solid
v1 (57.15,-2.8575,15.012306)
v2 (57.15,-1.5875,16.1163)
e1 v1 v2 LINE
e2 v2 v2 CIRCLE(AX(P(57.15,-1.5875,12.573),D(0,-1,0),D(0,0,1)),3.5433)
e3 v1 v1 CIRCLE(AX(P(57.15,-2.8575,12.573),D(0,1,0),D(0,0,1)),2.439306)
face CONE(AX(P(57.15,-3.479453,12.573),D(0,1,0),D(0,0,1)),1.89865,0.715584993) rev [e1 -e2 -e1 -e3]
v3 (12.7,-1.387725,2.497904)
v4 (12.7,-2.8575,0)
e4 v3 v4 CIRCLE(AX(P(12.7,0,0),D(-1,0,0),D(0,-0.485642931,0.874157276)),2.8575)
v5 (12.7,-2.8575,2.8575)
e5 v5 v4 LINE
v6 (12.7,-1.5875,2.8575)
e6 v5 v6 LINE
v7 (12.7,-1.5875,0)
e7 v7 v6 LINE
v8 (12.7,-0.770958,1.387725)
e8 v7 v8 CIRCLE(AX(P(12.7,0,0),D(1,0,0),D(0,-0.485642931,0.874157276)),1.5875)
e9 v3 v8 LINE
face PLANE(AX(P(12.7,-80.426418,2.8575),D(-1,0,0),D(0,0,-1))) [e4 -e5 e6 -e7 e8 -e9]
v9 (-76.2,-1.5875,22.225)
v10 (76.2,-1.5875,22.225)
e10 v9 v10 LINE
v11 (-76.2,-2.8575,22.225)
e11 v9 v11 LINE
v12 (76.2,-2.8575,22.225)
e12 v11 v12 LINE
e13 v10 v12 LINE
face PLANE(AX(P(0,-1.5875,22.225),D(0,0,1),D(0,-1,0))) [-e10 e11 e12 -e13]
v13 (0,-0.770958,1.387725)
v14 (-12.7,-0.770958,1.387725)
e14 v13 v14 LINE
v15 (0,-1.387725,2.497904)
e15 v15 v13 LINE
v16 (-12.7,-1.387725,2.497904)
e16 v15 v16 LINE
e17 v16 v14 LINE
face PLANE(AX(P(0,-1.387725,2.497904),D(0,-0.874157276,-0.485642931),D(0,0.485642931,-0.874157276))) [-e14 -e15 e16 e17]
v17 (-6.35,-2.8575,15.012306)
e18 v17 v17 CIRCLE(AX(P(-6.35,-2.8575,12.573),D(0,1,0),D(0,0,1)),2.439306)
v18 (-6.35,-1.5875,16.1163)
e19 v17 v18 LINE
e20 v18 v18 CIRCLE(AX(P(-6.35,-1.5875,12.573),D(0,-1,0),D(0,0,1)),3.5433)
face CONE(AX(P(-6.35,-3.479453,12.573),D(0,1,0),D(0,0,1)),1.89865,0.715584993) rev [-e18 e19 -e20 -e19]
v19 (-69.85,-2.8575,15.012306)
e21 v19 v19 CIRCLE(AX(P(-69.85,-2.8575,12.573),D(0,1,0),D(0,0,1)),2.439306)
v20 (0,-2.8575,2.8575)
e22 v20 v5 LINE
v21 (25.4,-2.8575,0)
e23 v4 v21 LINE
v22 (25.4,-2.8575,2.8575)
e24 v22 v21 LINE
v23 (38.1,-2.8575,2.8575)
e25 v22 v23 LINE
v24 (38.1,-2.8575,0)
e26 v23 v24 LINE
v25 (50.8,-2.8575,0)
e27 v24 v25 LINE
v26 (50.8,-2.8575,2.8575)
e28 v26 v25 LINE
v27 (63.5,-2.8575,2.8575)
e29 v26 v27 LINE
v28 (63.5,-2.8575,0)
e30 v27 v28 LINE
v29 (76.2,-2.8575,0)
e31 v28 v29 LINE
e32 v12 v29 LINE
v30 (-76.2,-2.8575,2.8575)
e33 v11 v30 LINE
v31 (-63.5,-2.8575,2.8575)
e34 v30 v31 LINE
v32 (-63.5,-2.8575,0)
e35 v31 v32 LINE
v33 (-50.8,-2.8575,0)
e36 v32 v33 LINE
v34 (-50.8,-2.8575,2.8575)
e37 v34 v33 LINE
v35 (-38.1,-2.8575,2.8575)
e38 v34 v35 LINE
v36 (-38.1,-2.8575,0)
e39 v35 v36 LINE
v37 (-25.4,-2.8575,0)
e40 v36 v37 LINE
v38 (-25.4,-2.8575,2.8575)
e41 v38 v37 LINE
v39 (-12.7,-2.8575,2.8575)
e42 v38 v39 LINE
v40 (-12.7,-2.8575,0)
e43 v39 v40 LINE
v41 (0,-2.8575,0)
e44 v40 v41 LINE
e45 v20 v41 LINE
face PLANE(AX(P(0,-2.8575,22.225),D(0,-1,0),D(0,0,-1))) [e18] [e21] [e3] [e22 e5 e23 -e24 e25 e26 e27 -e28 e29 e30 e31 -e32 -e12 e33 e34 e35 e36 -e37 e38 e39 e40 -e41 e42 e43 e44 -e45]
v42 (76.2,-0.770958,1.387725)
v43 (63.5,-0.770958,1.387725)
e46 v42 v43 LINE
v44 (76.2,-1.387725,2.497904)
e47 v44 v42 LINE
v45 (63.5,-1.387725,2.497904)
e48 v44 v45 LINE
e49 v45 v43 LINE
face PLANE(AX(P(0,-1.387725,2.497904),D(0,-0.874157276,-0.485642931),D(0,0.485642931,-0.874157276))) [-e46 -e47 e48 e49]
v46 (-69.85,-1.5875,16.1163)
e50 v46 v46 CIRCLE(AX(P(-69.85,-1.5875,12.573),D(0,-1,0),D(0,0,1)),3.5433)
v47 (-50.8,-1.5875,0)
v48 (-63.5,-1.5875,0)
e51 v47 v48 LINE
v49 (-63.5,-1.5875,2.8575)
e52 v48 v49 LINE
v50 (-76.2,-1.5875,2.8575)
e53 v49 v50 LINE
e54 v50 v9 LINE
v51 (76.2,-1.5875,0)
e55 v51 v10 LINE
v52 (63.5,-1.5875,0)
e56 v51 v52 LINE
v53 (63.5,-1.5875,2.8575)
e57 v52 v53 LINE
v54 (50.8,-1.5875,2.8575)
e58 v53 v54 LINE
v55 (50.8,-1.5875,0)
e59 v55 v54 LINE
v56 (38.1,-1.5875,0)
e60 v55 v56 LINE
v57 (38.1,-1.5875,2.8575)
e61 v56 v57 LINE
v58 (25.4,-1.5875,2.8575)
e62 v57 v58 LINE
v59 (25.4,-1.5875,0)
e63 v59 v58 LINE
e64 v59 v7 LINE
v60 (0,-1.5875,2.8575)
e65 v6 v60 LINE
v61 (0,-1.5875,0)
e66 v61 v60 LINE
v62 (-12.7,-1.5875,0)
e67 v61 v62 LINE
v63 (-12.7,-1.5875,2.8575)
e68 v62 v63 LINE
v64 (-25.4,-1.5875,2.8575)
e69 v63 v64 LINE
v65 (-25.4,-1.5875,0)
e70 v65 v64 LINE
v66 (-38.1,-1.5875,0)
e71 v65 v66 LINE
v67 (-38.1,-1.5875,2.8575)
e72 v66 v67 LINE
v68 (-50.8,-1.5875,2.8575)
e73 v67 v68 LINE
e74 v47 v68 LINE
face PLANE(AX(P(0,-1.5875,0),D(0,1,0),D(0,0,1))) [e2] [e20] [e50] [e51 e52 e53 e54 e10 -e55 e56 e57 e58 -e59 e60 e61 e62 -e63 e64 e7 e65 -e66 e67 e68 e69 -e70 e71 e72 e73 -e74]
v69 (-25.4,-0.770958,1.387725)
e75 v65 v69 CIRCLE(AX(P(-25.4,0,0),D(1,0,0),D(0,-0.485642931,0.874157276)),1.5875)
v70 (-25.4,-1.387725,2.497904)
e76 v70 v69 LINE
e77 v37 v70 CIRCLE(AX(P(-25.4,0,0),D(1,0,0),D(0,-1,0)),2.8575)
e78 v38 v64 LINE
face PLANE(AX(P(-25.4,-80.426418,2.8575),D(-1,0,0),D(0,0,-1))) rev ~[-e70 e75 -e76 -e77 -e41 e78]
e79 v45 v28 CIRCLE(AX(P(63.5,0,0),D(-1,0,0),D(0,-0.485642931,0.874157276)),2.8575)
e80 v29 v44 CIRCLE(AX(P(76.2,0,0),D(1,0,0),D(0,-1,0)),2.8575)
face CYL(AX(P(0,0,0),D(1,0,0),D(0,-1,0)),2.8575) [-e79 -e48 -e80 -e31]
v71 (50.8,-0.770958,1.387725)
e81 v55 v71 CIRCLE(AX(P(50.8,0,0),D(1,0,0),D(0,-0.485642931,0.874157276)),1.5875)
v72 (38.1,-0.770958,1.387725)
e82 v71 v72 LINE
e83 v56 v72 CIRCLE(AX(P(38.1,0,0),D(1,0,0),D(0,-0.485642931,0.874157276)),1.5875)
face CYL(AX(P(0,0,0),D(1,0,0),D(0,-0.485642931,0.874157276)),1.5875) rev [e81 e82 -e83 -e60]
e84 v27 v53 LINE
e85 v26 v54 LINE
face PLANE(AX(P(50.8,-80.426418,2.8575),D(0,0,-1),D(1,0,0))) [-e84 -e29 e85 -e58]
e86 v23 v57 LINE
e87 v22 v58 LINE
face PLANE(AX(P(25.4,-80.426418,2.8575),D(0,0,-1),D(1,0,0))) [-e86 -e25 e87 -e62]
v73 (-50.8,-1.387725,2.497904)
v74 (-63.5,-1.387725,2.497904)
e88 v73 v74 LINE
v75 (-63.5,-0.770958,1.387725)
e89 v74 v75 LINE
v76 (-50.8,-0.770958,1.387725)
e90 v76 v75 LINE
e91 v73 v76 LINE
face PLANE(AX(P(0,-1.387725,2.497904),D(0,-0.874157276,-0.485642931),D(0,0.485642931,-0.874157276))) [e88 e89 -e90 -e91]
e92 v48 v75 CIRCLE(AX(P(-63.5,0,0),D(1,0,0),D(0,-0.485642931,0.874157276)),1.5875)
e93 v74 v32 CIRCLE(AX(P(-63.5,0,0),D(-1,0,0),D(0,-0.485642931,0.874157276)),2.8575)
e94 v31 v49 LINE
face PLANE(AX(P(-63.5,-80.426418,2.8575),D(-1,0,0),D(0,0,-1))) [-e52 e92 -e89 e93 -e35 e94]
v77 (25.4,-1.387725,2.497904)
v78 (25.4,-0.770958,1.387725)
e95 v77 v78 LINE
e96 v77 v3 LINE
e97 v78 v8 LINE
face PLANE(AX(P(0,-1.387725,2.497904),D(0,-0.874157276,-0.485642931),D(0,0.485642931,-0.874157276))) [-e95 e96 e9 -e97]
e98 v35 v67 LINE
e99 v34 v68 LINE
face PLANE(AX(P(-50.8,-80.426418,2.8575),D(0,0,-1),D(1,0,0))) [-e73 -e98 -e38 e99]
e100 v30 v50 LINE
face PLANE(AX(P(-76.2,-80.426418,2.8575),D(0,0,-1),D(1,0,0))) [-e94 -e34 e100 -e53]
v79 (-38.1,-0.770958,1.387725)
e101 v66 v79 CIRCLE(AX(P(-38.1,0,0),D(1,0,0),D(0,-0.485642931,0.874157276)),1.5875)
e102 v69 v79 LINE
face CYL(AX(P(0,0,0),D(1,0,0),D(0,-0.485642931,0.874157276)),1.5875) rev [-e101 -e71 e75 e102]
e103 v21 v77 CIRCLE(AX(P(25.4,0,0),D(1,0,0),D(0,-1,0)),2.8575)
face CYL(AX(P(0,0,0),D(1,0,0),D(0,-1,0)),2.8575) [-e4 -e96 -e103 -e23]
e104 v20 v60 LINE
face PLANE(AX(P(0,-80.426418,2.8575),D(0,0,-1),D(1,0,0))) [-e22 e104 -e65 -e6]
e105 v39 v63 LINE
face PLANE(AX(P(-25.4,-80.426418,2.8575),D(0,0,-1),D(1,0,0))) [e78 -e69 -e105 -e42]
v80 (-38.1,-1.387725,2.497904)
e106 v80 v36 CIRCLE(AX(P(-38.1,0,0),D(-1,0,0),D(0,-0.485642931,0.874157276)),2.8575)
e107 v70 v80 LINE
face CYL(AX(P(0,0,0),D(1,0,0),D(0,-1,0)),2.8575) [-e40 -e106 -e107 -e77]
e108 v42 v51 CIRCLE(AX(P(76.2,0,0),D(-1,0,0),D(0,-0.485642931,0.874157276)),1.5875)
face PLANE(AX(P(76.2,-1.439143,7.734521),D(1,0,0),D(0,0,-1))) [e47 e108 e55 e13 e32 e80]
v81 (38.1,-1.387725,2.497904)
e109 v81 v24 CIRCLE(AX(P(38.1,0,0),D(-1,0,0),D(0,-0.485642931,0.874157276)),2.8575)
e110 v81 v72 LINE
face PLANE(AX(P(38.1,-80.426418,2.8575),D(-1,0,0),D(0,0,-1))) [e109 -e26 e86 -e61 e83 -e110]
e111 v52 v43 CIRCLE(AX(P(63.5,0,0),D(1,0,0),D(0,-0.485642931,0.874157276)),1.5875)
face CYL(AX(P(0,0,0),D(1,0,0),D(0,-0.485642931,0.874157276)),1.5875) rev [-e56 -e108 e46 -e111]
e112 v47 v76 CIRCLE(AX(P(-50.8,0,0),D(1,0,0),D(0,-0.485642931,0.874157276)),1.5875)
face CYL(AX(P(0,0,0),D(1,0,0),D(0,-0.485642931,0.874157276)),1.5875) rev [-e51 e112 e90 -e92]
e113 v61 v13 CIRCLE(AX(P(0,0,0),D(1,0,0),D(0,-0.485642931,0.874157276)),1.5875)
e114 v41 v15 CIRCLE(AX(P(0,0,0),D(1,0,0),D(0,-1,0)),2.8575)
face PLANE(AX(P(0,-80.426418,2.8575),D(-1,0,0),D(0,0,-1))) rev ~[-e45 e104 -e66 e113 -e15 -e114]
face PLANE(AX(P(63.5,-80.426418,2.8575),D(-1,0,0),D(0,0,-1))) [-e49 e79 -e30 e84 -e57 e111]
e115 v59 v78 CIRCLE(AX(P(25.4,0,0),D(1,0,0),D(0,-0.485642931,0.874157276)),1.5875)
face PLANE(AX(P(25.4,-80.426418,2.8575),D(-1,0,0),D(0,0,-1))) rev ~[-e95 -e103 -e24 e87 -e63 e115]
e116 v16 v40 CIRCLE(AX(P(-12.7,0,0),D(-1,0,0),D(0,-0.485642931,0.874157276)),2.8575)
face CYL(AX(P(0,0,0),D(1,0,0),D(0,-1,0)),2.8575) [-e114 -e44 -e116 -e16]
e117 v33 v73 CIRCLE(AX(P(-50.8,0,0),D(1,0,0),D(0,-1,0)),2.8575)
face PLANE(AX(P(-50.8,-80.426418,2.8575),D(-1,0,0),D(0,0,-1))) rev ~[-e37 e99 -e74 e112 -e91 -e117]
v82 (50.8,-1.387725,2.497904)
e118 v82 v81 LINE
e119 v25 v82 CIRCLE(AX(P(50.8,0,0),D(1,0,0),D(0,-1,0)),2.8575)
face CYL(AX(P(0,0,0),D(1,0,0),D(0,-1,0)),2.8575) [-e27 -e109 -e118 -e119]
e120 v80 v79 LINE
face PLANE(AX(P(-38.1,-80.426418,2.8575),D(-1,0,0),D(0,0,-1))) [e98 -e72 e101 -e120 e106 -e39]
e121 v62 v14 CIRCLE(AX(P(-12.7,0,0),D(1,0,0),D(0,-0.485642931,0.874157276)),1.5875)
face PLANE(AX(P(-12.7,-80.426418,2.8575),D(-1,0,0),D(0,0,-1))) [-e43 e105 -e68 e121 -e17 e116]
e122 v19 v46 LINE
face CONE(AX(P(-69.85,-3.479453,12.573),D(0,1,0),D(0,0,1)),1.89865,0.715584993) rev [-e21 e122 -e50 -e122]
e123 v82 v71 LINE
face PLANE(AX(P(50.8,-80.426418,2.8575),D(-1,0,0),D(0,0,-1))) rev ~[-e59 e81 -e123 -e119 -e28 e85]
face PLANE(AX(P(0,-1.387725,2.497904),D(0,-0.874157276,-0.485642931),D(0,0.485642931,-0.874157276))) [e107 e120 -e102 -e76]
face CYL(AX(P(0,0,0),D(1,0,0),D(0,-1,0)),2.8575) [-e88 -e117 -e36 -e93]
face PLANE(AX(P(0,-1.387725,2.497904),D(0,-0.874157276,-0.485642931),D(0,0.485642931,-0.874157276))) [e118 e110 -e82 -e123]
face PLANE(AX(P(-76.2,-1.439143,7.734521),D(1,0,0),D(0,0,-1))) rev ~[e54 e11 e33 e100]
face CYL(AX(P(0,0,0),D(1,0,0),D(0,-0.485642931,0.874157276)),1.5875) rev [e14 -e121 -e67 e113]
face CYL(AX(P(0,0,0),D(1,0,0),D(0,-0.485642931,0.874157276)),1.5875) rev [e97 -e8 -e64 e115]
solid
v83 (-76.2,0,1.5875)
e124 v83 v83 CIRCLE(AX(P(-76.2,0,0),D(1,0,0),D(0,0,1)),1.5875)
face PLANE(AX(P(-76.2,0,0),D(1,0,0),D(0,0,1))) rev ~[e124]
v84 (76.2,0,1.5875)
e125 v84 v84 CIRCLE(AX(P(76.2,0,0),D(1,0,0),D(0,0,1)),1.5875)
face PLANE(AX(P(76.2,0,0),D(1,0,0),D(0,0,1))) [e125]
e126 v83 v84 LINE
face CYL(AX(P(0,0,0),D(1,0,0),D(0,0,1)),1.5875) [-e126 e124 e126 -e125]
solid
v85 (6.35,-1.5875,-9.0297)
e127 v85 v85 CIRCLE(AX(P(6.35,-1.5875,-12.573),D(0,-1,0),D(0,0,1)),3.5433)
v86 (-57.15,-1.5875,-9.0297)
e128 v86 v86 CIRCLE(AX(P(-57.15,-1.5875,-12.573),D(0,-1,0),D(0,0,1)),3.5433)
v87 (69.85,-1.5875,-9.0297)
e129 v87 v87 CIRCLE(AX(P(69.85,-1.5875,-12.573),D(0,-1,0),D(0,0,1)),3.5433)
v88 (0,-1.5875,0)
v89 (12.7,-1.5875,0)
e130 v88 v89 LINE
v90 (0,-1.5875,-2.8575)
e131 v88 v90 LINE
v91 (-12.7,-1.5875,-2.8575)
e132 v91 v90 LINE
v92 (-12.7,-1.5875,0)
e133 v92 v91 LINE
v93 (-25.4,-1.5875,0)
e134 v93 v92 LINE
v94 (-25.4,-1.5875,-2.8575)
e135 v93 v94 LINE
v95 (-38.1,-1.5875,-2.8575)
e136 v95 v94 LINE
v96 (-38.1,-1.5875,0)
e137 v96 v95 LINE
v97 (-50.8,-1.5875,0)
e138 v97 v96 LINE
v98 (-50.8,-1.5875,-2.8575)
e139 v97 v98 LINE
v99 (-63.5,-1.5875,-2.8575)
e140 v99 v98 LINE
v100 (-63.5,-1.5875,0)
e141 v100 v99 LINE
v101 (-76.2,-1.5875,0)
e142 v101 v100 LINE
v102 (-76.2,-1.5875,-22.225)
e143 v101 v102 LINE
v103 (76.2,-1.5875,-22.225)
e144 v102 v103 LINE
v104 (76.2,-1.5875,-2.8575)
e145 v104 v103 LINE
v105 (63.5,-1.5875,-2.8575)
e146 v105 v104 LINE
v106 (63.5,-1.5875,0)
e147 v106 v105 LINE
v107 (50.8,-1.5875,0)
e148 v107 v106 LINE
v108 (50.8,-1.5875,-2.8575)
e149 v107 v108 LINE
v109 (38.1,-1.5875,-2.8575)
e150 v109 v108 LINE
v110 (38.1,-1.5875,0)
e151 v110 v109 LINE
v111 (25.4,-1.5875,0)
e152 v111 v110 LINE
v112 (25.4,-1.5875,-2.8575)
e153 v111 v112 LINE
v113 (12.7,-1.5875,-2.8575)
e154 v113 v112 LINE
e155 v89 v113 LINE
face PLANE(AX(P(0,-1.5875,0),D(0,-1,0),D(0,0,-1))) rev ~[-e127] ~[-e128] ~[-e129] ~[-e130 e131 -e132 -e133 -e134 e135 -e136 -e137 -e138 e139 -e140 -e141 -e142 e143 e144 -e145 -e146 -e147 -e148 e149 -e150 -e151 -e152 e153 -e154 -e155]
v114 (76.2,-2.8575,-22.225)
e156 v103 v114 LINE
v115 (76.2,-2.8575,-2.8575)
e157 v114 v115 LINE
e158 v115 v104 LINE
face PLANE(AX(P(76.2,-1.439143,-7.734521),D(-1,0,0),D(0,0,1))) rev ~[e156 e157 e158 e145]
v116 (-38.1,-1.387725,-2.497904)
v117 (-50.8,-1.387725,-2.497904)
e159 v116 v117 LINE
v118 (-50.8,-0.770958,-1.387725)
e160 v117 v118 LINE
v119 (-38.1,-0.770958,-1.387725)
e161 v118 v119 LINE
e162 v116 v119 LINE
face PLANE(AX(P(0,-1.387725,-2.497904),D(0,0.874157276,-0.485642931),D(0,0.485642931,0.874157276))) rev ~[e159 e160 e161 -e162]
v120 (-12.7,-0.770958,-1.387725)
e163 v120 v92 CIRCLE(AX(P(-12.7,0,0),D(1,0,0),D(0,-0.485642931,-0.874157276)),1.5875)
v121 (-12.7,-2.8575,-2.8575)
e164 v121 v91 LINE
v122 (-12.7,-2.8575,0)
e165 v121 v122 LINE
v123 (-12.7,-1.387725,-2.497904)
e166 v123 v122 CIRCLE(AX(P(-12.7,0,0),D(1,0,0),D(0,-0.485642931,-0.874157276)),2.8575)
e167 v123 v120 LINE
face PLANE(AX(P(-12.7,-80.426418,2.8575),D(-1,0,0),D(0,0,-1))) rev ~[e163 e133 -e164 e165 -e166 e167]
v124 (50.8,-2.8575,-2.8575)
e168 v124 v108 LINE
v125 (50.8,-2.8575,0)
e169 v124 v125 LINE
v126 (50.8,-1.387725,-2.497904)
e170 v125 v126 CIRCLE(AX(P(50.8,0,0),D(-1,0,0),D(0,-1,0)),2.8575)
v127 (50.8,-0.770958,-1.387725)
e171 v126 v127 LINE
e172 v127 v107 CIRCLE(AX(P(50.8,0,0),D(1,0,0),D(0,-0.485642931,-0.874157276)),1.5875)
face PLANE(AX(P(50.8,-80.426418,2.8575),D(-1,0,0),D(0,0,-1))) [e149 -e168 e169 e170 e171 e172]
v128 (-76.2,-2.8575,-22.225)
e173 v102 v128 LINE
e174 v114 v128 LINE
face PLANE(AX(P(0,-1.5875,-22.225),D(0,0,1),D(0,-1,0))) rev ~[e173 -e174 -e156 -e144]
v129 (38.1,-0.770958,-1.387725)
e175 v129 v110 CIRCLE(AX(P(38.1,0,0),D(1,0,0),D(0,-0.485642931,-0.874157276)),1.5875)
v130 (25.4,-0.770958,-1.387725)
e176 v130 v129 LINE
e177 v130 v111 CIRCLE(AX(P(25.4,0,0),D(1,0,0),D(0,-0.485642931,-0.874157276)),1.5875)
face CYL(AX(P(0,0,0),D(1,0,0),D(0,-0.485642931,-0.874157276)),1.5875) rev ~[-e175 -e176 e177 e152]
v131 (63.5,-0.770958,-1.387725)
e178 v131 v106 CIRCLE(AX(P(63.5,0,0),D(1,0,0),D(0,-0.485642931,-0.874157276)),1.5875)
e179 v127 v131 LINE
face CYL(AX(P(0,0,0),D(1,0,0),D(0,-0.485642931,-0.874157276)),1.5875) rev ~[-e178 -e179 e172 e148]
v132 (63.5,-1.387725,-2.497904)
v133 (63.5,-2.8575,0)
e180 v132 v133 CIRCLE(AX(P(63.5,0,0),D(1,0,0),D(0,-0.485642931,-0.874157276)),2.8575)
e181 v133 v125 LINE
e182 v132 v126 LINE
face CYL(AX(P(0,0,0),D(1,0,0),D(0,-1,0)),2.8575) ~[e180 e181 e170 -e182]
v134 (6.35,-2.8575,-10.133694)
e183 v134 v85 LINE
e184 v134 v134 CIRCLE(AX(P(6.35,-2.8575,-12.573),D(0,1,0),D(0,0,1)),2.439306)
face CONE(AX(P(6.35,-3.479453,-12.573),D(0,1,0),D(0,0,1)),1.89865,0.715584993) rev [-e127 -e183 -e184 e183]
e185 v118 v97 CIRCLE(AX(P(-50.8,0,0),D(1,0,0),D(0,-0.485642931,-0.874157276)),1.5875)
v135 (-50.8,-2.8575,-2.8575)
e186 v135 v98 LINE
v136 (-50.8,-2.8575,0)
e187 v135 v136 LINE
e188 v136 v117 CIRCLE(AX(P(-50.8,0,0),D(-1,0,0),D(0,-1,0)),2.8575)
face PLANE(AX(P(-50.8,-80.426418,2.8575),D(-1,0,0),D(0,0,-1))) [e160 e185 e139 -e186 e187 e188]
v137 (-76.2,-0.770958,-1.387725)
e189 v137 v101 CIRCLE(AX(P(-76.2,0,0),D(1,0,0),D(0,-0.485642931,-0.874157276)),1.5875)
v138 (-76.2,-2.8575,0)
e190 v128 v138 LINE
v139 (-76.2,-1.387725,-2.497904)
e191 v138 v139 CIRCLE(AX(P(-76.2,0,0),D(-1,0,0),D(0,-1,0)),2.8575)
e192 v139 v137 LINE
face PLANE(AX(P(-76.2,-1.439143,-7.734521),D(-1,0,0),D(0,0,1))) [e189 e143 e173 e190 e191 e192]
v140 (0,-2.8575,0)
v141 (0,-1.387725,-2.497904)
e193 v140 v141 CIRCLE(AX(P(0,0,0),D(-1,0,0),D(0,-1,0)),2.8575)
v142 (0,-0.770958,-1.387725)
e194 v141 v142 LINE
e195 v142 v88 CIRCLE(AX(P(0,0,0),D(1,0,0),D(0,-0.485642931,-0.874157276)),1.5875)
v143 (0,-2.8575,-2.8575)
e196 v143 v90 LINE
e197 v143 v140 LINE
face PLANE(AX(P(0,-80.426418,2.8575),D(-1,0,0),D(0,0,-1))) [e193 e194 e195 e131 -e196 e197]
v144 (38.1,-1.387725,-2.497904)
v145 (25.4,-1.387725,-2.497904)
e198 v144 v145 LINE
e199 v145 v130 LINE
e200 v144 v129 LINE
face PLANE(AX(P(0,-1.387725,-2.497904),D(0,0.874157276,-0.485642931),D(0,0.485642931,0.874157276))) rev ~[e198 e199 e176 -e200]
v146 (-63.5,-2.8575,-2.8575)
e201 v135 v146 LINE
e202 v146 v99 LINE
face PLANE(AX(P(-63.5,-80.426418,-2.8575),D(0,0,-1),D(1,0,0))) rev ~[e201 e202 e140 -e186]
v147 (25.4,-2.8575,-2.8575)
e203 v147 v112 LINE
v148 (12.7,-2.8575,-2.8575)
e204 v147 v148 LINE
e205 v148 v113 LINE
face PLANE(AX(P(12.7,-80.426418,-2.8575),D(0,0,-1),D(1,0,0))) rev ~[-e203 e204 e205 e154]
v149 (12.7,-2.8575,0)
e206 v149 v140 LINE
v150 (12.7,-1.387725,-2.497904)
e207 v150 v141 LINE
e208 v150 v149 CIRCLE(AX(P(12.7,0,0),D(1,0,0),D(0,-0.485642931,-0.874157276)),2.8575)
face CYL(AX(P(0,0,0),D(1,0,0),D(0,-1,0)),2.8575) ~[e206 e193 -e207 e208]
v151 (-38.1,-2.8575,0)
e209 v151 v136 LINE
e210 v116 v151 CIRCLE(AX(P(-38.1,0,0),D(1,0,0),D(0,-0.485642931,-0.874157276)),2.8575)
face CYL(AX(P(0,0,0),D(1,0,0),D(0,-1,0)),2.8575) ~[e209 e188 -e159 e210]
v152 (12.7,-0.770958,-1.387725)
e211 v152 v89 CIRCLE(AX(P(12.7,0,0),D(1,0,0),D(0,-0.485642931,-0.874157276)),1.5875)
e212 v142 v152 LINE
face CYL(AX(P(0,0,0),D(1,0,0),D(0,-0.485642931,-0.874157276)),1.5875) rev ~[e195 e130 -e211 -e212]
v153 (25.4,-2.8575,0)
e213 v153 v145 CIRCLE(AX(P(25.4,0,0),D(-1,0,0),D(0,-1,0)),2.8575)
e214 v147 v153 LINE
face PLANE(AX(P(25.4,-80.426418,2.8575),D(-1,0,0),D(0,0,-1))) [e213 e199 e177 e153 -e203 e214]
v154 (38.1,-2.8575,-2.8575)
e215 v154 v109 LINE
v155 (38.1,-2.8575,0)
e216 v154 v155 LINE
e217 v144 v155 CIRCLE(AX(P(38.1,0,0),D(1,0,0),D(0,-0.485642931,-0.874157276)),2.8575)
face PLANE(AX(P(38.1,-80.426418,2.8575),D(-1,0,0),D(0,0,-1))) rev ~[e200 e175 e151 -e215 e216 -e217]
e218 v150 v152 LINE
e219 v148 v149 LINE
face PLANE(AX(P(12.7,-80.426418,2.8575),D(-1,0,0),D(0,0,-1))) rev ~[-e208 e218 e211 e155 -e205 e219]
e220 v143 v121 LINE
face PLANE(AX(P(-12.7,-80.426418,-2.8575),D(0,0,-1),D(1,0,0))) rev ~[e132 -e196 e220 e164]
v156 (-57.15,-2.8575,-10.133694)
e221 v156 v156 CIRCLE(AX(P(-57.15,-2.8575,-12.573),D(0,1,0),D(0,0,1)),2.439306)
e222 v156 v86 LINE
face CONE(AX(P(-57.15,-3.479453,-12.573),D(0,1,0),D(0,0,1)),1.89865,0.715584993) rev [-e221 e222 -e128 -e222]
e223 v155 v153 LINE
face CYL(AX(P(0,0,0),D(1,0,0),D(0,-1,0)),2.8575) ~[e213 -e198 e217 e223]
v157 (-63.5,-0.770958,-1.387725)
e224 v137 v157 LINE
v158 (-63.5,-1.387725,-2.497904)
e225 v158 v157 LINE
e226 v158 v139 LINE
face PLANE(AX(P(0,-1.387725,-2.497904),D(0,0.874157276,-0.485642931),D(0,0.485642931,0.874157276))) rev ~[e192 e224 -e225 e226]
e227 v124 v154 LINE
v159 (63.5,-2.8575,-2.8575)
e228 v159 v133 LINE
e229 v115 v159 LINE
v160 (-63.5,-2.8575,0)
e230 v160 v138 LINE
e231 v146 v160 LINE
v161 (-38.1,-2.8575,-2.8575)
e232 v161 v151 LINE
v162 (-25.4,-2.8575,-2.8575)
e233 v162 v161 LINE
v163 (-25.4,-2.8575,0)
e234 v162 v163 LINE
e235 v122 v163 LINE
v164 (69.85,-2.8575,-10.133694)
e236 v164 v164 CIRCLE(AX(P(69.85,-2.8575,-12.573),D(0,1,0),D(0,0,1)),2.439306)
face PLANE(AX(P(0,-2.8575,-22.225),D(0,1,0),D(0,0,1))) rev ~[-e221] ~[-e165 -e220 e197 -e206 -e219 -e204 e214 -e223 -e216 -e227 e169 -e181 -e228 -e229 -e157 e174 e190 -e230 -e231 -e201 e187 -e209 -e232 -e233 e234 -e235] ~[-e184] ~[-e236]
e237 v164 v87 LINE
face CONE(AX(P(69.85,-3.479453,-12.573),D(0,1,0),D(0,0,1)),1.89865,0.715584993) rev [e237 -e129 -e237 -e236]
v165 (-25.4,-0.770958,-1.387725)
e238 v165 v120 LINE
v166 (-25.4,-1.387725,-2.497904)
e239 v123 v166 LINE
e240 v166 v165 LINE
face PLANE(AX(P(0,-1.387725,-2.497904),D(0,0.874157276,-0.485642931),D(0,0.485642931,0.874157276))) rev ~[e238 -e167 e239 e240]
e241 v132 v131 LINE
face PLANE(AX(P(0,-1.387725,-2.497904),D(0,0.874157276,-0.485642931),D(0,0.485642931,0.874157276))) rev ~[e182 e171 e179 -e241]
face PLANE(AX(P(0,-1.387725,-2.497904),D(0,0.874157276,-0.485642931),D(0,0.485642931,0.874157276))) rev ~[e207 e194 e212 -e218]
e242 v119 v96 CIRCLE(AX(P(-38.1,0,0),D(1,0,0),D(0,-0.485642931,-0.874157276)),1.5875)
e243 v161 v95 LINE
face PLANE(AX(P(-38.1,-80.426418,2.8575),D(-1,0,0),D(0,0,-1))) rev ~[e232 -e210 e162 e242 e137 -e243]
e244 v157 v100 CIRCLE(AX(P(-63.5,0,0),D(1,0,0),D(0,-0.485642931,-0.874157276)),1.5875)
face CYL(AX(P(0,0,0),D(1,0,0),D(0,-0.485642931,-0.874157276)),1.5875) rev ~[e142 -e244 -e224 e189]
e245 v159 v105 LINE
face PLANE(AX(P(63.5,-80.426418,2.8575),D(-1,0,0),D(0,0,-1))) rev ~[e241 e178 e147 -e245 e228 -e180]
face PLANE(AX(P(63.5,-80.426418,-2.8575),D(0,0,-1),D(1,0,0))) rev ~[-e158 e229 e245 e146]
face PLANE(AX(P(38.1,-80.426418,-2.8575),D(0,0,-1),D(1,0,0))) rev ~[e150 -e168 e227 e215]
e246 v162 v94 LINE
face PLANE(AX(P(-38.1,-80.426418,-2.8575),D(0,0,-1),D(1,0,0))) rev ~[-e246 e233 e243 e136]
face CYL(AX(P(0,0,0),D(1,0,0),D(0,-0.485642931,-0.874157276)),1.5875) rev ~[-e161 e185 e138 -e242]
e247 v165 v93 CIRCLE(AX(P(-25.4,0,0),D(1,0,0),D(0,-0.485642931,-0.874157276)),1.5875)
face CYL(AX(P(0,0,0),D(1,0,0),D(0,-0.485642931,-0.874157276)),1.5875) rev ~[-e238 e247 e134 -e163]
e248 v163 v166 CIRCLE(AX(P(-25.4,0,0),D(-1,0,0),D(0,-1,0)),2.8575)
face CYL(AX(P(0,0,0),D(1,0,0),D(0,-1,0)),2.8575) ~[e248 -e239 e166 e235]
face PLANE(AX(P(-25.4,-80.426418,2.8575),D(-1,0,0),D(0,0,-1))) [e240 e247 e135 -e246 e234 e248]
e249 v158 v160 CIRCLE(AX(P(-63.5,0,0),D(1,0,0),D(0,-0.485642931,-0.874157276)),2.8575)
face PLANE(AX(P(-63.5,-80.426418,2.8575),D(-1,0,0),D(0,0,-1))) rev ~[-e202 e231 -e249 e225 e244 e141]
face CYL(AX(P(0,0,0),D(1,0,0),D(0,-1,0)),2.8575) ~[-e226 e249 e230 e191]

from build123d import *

# Parameters (mm, degrees)
LEFT_LEAF_DEPTH                               = 76.2
CUT_EXTRUDE1_DEPTH                            = 80.426418346
CUT_EXTRUDE1_DEPTH_BACK                       = 80.426418346
SKETCH2_W                                     = 12.7
SKETCH2_H                                     = 5.715
RIGHT_LEAF_DEPTH                              = 76.2
CUT_EXTRUDE2_DEPTH                            = 80.426418346
CUT_EXTRUDE2_DEPTH_BACK                       = 80.426418346
SKETCH9_W                                     = 12.7
SKETCH9_H                                     = 5.715
SKETCH10_R                                    = 1.5875
EXTRUDE1_DEPTH                                = 76.2
CSK_FOR_6_FLAT_HEAD_MACHINE_SCREW1_AT_2_COUNT = 2
CSK_FOR_6_FLAT_HEAD_MACHINE_SCREW1_AT_2_PITCH = 63.5
CSK_FOR_6_FLAT_HEAD_MACHINE_SCREW1_AT_3_COUNT = 2
CSK_FOR_6_FLAT_HEAD_MACHINE_SCREW1_AT_3_PITCH = 127
CSK_FOR_6_FLAT_HEAD_MACHINE_SCREW1_AT_4_COUNT = 2
CSK_FOR_6_FLAT_HEAD_MACHINE_SCREW1_AT_4_PITCH = 28.171107823
CSK_FOR_6_FLAT_HEAD_MACHINE_SCREW1_AT_5_COUNT = 2
CSK_FOR_6_FLAT_HEAD_MACHINE_SCREW1_AT_5_PITCH = 56.682989653
CSK_FOR_6_FLAT_HEAD_MACHINE_SCREW1_AT_6_COUNT = 2
CSK_FOR_6_FLAT_HEAD_MACHINE_SCREW1_AT_6_PITCH = 117.033376932


with BuildPart() as part:
    # Sketch1 → Left Leaf (new, symmetric)
    with BuildSketch(Plane(origin=(0, 0, 0), x_dir=(0, 0, -1), z_dir=(1, 0, 0))):
        with BuildLine():
            Line((0, -1.5875), (-22.225, -1.5875))
            Line((-22.225, -1.5875), (-22.225, -2.8575))
            Line((-22.225, -2.8575), (0, -2.8575))
            ThreePointArc((0, -2.8575), (1.449117488, 2.462796125), (-2.497904417, -1.387724676))
            Line((-2.497904417, -1.387724676), (-1.387724676, -0.770958153))
            ThreePointArc((-1.387724676, -0.770958153), (0.805065271, 1.36822007), (0, -1.5875))
        make_face()
    extrude(amount=LEFT_LEAF_DEPTH, both=True)

    # Sketch2 → Cut-Extrude1 (cut, two sides: drawn at the far end of the back side and taken through both)
    with BuildSketch(Plane(origin=(0, 0, 0), x_dir=(1, 0, 0), z_dir=(0, 1, 0)).offset(-CUT_EXTRUDE1_DEPTH_BACK)):
        with Locations((-44.45, 0)):
            Rectangle(SKETCH2_W, SKETCH2_H)
        with Locations((-69.85, 0)):
            Rectangle(SKETCH2_W, SKETCH2_H)
        with Locations((57.15, 0)):
            Rectangle(SKETCH2_W, SKETCH2_H)
        with Locations((-19.05, 0)):
            Rectangle(SKETCH2_W, SKETCH2_H)
        with Locations((6.35, 0)):
            Rectangle(SKETCH2_W, SKETCH2_H)
        with Locations((31.75, 0)):
            Rectangle(SKETCH2_W, SKETCH2_H)
    extrude(amount=CUT_EXTRUDE1_DEPTH + CUT_EXTRUDE1_DEPTH_BACK, mode=Mode.SUBTRACT)


with BuildPart() as body_2:
    # Sketch3 → Right Leaf (new, symmetric)
    with BuildSketch(Plane(origin=(0, 0, 0), x_dir=(0, 0, -1), z_dir=(1, 0, 0))):
        with BuildLine():
            Line((22.225, -1.5875), (22.225, -2.8575))
            Line((22.225, -2.8575), (0, -2.8575))
            ThreePointArc((0, -2.8575), (-1.449117488, 2.462796125), (2.497904417, -1.387724676))
            Line((2.497904417, -1.387724676), (1.387724676, -0.770958153))
            ThreePointArc((1.387724676, -0.770958153), (-0.805065271, 1.36822007), (0, -1.5875))
            Line((0, -1.5875), (22.225, -1.5875))
        make_face()
    extrude(amount=RIGHT_LEAF_DEPTH, both=True)

    # Sketch9 → Cut-Extrude2 (cut, two sides: drawn at the far end of the back side and taken through both)
    with BuildSketch(Plane(origin=(0, 0, 0), x_dir=(1, 0, 0), z_dir=(0, 1, 0)).offset(-CUT_EXTRUDE2_DEPTH_BACK)):
        with Locations((-57.15, 0)):
            Rectangle(SKETCH9_W, SKETCH9_H)
        with Locations((-31.75, 0)):
            Rectangle(SKETCH9_W, SKETCH9_H)
        with Locations((-6.35, 0)):
            Rectangle(SKETCH9_W, SKETCH9_H)
        with Locations((19.05, 0)):
            Rectangle(SKETCH9_W, SKETCH9_H)
        with Locations((44.45, 0)):
            Rectangle(SKETCH9_W, SKETCH9_H)
        with Locations((69.85, 0)):
            Rectangle(SKETCH9_W, SKETCH9_H)
    extrude(amount=CUT_EXTRUDE2_DEPTH + CUT_EXTRUDE2_DEPTH_BACK, mode=Mode.SUBTRACT)

    # Sketch12 → CSK for #6 Flat Head Machine Screw1 (revolve, cut)
    with BuildSketch(Plane(origin=(-57.15, -1.5875, -12.573), x_dir=(0, 0, 1), z_dir=(1, 0, 0))):
        Polygon((0, 0), (0, 1.27), (1.89865, 1.27), (1.89865, 1.891953401), (3.5433, 0), align=None)
    csk_for_6_flat_head_machine_screw1 = revolve(axis=Axis((-57.15, 4.7625, -12.573), (0, -1, 0)), mode=Mode.SUBTRACT)

    # CSK for #6 Flat Head Machine Screw1 at 2: CSK for #6 Flat Head Machine Screw1 ×2
    with Locations(*[(i * CSK_FOR_6_FLAT_HEAD_MACHINE_SCREW1_AT_2_PITCH, 0, 0) for i in range(1, CSK_FOR_6_FLAT_HEAD_MACHINE_SCREW1_AT_2_COUNT)]):
        add(csk_for_6_flat_head_machine_screw1, mode=Mode.SUBTRACT)

    # CSK for #6 Flat Head Machine Screw1 at 3: CSK for #6 Flat Head Machine Screw1 ×2
    with Locations(*[(i * CSK_FOR_6_FLAT_HEAD_MACHINE_SCREW1_AT_3_PITCH, 0, 0) for i in range(1, CSK_FOR_6_FLAT_HEAD_MACHINE_SCREW1_AT_3_COUNT)]):
        add(csk_for_6_flat_head_machine_screw1, mode=Mode.SUBTRACT)


with BuildPart() as body_3:
    # Sketch10 → Extrude1 (new, symmetric)
    with BuildSketch(Plane(origin=(0, 0, 0), x_dir=(0, 0, -1), z_dir=(1, 0, 0))):
        with Locations(Location((0, 0, 0), (0, 0, 180))):
            Circle(SKETCH10_R)
    extrude(amount=EXTRUDE1_DEPTH, both=True)


with BuildPart() as part_1:
    add(part.part)

    # CSK for #6 Flat Head Machine Screw1 at 4: CSK for #6 Flat Head Machine Screw1 ×2
    with Locations(*[Vector(-0.4508164918325266, 0, 0.8926166538284022) * (i * CSK_FOR_6_FLAT_HEAD_MACHINE_SCREW1_AT_4_PITCH) for i in range(1, CSK_FOR_6_FLAT_HEAD_MACHINE_SCREW1_AT_4_COUNT)]):
        add(csk_for_6_flat_head_machine_screw1, mode=Mode.SUBTRACT)

    # CSK for #6 Flat Head Machine Screw1 at 5: CSK for #6 Flat Head Machine Screw1 ×2
    with Locations(*[Vector(0.8962124318248272, 0, 0.44362515375328926) * (i * CSK_FOR_6_FLAT_HEAD_MACHINE_SCREW1_AT_5_PITCH) for i in range(1, CSK_FOR_6_FLAT_HEAD_MACHINE_SCREW1_AT_5_COUNT)]):
        add(csk_for_6_flat_head_machine_screw1, mode=Mode.SUBTRACT)

    # CSK for #6 Flat Head Machine Screw1 at 6: CSK for #6 Flat Head Machine Screw1 ×2
    with Locations(*[Vector(0.97664446670509, 0, 0.2148617826751197) * (i * CSK_FOR_6_FLAT_HEAD_MACHINE_SCREW1_AT_6_PITCH) for i in range(1, CSK_FOR_6_FLAT_HEAD_MACHINE_SCREW1_AT_6_COUNT)]):
        add(csk_for_6_flat_head_machine_screw1, mode=Mode.SUBTRACT)


solid = Compound([body_2.part, body_3.part, part_1.part])
